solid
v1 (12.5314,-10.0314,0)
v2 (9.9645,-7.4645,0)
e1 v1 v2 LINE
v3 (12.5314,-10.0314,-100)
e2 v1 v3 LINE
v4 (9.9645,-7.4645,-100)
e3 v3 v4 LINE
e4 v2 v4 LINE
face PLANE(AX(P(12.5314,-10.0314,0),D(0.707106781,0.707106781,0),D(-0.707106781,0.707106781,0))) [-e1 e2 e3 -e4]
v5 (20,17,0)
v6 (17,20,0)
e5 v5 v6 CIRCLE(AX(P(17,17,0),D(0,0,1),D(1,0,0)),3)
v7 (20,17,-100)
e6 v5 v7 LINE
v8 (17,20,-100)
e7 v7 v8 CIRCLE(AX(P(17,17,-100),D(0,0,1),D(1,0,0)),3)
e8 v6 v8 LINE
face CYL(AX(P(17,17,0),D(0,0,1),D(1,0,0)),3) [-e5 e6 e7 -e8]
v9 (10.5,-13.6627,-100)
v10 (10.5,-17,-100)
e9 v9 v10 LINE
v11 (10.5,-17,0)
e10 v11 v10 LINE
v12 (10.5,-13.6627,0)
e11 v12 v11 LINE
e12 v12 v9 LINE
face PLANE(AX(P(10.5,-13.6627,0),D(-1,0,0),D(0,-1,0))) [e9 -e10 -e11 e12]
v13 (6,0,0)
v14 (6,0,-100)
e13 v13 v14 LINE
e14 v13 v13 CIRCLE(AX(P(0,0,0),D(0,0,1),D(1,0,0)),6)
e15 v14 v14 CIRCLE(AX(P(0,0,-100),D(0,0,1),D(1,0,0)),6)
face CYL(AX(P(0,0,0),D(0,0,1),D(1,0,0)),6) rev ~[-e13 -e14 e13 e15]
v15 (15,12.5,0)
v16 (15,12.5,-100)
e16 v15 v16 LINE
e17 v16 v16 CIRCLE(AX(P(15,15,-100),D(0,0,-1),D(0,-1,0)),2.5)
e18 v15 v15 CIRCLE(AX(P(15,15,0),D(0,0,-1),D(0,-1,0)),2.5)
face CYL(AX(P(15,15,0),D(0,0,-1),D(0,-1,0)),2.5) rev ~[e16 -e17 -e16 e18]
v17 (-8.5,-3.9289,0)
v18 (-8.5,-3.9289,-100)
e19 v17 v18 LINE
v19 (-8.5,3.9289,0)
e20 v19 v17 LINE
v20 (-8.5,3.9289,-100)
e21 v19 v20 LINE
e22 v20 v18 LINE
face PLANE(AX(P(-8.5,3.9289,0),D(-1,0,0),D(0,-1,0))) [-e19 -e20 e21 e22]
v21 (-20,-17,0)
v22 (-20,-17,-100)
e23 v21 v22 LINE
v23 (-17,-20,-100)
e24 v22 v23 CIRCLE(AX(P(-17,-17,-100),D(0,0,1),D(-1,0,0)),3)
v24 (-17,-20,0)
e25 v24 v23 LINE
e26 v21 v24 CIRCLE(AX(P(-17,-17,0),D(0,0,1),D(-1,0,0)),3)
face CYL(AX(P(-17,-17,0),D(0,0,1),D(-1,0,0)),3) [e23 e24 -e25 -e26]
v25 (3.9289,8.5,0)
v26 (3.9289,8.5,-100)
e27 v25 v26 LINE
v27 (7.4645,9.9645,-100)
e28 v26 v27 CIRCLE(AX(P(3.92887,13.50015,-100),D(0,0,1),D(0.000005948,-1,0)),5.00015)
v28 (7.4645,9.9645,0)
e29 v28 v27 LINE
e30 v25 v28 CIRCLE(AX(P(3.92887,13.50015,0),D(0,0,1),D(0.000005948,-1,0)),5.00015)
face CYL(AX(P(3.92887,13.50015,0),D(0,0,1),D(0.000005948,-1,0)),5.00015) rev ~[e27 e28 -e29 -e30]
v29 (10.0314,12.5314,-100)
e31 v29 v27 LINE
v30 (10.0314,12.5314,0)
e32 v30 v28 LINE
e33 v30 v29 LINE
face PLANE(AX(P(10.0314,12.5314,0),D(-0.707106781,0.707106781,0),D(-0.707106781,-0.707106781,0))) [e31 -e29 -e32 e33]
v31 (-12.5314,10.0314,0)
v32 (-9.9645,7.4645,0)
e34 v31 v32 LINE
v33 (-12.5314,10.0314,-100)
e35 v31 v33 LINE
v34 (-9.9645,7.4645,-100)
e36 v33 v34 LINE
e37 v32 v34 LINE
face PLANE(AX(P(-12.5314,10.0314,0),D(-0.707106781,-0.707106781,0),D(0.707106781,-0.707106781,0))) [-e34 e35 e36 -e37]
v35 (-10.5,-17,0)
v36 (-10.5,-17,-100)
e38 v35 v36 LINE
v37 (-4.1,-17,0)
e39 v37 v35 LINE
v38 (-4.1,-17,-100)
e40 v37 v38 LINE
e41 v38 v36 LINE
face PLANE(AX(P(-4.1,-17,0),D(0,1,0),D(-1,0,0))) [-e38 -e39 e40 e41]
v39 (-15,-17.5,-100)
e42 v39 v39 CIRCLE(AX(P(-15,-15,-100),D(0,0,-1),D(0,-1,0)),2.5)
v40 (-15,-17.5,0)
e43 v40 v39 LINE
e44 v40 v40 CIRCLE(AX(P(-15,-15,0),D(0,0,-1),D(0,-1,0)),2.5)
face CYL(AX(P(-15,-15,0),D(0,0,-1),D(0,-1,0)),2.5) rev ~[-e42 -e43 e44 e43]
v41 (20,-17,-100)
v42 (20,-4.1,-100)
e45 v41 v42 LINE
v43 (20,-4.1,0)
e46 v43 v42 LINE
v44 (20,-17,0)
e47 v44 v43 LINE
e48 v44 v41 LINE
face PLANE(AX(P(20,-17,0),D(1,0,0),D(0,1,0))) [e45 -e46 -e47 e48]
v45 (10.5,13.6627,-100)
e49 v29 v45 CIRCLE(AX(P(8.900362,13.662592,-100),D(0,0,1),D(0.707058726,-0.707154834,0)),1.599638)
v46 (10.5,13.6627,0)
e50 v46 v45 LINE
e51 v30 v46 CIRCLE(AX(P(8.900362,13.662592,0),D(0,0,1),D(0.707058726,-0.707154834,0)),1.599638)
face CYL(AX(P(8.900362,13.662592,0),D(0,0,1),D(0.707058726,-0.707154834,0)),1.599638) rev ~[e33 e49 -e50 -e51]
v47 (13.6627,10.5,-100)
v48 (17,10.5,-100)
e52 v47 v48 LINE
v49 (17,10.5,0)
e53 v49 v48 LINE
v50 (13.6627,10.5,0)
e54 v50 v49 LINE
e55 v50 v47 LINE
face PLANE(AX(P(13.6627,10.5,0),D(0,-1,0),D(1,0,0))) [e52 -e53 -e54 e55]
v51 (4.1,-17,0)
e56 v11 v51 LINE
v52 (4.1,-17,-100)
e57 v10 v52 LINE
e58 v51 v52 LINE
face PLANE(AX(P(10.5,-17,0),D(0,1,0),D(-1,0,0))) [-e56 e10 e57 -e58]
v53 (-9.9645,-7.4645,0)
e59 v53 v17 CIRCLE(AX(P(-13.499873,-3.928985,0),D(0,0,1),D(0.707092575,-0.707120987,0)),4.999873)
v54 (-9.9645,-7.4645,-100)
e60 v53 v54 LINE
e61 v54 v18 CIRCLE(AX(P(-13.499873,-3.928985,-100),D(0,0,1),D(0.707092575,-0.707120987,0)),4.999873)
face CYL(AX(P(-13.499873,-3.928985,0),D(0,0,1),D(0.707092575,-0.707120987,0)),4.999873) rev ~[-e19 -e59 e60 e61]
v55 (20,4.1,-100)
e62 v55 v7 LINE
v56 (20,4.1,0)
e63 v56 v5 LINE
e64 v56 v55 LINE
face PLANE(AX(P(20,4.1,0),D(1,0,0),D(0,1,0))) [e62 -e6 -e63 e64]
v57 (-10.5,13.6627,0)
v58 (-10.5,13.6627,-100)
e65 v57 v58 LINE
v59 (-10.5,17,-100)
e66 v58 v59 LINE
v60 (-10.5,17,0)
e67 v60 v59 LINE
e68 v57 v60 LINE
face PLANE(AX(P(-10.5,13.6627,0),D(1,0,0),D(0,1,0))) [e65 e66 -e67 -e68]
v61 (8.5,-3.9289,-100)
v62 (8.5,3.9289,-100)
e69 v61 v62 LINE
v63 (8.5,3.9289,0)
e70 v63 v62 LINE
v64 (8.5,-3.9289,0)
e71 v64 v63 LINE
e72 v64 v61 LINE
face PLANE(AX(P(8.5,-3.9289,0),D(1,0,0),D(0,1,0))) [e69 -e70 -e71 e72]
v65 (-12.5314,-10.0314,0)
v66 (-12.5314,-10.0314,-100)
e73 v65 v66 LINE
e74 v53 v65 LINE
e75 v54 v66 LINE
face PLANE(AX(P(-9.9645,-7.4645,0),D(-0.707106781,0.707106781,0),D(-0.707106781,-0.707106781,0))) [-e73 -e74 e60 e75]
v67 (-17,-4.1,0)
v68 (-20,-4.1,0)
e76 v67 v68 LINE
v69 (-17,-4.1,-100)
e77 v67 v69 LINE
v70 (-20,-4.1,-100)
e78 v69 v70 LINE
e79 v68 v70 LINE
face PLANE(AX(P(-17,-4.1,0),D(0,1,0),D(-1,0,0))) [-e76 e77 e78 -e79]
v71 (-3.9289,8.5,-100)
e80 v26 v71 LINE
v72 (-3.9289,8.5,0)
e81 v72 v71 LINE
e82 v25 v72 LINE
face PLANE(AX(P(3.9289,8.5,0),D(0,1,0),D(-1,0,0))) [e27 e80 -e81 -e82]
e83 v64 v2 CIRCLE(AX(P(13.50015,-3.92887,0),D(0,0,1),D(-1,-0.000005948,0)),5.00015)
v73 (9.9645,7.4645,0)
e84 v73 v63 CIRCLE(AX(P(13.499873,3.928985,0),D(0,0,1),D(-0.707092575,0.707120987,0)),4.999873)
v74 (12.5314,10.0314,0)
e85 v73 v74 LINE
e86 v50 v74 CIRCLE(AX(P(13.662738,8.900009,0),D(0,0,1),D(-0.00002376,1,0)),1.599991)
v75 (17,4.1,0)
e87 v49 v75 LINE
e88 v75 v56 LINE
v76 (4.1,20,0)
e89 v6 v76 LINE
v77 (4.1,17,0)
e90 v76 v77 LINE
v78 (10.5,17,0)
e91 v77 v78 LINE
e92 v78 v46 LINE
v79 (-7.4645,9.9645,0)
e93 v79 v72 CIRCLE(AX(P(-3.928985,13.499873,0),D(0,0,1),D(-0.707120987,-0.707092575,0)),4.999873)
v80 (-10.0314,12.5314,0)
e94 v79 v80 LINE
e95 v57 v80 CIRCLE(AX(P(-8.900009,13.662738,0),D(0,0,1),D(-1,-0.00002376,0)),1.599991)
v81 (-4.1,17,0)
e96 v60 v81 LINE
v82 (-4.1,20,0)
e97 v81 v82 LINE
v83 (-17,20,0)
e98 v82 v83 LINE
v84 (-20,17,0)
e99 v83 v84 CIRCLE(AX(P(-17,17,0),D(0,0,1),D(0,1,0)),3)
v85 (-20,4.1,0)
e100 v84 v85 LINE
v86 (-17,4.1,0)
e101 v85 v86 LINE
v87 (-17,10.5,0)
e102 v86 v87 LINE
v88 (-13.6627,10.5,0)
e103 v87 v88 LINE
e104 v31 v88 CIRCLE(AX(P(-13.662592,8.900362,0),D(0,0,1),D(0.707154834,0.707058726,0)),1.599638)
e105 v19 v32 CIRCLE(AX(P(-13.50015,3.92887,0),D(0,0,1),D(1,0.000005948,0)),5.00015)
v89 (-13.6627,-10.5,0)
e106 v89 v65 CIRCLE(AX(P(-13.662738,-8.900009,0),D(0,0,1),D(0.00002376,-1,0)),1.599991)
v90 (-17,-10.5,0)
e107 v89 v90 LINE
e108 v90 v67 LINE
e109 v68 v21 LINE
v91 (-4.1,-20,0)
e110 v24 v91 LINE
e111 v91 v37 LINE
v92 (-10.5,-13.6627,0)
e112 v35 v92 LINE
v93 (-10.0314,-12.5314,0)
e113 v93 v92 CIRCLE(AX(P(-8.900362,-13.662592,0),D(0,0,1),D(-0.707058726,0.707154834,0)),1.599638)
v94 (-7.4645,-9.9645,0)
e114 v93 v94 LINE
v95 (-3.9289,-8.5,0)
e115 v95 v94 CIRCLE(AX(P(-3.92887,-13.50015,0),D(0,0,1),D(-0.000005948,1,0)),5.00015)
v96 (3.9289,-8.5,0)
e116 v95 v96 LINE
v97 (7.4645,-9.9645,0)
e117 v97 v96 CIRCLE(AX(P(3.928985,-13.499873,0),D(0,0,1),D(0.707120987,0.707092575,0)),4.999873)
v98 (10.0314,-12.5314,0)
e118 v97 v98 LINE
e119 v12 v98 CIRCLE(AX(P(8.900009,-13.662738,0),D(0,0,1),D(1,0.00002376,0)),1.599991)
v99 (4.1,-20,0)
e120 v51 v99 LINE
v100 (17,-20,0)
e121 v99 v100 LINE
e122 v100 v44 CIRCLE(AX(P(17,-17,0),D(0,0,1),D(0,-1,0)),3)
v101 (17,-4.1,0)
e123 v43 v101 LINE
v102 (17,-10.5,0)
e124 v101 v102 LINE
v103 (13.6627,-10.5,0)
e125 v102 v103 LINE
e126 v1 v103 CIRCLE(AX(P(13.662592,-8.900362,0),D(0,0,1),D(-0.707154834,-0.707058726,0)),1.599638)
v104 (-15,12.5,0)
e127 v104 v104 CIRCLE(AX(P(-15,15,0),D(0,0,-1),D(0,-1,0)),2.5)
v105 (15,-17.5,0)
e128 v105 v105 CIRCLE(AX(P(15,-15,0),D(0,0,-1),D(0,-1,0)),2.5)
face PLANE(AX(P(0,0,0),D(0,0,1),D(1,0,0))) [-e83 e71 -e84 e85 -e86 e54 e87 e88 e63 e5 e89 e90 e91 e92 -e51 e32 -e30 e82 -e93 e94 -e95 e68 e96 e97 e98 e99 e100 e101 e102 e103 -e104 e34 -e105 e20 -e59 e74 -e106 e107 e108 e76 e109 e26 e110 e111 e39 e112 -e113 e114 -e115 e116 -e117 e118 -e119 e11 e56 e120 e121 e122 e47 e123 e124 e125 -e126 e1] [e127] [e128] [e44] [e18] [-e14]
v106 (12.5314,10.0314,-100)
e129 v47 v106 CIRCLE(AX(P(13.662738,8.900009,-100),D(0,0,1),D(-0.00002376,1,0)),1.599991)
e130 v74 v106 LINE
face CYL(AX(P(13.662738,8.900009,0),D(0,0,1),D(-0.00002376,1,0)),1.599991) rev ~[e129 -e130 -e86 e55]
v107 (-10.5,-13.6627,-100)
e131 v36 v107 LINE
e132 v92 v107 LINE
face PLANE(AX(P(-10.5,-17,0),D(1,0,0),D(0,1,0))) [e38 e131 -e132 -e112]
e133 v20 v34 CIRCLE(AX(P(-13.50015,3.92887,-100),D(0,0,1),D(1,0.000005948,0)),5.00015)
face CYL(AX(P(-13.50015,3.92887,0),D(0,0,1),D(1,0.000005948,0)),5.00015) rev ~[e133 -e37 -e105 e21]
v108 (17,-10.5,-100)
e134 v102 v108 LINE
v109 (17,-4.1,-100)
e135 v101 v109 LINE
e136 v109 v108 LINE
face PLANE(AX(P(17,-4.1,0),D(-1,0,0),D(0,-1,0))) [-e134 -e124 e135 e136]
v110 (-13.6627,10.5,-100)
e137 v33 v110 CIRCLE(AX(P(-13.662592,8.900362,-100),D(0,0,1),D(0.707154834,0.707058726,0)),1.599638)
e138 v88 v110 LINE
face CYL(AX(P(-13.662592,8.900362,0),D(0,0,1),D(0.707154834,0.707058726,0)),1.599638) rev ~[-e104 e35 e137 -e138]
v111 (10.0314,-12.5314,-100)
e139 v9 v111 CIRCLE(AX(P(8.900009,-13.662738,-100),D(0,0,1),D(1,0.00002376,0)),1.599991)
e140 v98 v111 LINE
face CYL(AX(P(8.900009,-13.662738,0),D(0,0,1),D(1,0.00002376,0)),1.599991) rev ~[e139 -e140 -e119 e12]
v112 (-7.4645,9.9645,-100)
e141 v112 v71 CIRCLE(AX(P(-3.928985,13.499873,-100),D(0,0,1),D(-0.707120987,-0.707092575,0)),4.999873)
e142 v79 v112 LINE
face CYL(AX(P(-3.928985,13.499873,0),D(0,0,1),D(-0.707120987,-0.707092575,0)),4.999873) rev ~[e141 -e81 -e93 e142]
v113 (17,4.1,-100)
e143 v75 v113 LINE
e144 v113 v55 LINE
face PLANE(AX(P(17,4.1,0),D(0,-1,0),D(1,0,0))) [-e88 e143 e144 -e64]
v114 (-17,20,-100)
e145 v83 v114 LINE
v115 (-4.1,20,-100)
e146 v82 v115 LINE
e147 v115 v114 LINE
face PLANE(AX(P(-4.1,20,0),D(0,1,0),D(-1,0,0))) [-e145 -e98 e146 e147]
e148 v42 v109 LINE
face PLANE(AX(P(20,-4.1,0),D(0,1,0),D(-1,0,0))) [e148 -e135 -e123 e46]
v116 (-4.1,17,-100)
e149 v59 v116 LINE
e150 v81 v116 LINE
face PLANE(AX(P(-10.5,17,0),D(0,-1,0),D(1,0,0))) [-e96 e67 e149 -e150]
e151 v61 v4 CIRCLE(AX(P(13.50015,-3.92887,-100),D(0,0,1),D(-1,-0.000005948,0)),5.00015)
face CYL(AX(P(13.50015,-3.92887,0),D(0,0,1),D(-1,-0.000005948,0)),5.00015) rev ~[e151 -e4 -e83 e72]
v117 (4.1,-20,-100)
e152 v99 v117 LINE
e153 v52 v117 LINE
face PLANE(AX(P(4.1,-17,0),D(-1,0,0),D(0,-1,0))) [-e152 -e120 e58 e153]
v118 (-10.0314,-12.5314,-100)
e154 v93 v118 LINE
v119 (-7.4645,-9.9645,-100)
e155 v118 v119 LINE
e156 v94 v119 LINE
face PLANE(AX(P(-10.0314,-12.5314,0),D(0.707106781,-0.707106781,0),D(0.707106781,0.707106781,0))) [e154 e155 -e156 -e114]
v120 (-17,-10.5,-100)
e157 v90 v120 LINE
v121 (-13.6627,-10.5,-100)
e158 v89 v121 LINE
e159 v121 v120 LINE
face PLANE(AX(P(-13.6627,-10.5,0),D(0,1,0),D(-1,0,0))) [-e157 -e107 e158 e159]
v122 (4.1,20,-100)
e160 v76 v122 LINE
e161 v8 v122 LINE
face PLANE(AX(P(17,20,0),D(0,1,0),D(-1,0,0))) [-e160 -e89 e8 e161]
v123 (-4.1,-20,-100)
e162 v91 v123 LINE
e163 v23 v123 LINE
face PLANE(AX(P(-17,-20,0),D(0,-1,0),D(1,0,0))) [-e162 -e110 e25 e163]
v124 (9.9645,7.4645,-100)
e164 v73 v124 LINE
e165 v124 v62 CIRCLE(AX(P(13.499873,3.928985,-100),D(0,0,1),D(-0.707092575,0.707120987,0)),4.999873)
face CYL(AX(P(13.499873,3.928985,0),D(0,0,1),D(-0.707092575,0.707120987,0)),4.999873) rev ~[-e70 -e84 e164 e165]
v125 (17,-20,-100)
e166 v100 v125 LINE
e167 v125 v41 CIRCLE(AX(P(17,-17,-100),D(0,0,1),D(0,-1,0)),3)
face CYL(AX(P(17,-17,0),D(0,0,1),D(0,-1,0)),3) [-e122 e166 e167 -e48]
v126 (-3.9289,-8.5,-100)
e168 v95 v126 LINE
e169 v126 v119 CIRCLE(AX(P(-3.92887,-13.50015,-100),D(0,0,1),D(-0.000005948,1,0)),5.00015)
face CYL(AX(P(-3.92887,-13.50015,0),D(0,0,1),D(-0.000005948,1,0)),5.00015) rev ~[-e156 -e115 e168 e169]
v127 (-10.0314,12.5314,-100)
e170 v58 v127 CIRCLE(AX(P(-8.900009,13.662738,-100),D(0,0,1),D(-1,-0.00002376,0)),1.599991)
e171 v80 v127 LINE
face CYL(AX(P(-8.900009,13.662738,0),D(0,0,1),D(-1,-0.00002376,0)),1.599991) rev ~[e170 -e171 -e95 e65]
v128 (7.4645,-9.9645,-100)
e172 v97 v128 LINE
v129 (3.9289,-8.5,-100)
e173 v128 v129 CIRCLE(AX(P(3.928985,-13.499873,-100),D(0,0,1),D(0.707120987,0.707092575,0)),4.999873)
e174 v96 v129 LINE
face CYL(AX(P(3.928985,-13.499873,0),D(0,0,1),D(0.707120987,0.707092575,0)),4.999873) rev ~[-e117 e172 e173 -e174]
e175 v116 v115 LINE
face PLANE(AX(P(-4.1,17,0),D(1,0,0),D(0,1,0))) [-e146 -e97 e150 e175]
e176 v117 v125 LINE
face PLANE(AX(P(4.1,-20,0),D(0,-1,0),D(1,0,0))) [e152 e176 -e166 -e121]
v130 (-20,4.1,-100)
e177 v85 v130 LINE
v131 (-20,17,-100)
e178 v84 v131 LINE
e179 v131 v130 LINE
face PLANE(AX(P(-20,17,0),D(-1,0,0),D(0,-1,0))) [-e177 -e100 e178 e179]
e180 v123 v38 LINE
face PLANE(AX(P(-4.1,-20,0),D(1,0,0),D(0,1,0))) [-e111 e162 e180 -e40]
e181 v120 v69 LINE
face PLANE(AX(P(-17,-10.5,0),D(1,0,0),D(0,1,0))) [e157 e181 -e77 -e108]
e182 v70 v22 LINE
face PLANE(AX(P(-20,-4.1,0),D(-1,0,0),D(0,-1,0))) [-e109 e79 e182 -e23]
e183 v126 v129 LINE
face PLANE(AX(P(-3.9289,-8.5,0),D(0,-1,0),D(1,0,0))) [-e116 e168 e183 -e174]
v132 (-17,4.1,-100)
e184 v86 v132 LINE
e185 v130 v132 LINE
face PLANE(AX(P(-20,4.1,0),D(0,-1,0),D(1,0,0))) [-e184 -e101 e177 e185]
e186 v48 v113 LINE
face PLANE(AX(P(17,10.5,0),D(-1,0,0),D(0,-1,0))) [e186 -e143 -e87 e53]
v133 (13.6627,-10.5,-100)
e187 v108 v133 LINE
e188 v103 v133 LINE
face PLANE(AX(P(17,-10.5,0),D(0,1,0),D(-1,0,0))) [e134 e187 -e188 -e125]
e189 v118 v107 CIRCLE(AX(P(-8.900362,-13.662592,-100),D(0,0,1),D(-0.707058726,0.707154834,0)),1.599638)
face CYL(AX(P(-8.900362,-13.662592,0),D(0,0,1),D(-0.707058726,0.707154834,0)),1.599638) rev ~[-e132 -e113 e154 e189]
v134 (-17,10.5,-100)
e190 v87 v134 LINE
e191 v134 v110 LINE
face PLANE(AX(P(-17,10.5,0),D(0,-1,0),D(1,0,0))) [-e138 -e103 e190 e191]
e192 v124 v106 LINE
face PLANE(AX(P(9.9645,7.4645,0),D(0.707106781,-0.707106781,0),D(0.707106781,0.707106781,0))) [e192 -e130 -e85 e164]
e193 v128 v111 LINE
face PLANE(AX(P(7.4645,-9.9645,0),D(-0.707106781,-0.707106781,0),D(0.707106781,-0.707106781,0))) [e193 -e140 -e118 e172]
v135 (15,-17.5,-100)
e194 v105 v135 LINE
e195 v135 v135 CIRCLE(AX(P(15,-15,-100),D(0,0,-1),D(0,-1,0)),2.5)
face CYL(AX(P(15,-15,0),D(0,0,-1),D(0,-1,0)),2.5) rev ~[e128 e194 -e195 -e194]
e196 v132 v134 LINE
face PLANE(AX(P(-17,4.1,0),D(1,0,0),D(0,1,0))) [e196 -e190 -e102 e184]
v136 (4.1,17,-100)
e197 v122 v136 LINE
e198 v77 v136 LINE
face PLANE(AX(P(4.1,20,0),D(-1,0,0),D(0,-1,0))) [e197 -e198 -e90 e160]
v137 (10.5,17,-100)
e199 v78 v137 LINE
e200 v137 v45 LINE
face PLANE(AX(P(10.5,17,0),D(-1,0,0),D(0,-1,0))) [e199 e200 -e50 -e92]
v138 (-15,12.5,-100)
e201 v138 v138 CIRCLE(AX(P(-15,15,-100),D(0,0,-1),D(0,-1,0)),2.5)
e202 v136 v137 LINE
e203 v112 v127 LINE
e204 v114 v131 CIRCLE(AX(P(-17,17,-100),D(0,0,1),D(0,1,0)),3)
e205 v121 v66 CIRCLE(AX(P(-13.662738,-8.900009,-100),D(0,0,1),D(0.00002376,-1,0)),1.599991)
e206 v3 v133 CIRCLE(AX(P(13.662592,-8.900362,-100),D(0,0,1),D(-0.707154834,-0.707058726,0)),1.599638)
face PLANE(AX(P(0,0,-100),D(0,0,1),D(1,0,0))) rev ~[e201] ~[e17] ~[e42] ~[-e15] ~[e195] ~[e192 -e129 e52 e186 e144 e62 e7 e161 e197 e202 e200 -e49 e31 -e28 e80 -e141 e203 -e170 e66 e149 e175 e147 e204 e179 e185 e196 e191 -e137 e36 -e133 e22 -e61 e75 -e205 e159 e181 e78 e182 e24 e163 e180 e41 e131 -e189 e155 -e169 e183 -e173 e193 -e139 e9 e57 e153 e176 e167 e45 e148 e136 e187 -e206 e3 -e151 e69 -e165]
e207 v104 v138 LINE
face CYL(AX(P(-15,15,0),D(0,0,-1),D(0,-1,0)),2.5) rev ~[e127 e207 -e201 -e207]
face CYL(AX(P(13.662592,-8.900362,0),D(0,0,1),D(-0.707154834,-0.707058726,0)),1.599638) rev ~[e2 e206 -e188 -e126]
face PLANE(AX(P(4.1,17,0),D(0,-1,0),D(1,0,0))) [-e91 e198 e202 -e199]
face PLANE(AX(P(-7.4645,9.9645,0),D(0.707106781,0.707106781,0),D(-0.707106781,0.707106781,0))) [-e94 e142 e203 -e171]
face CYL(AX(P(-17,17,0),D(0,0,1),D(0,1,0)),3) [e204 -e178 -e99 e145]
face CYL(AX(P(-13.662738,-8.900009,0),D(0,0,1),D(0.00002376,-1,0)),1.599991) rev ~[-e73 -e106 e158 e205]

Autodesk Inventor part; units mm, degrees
sketch "Skizze_1" plane through (0, 0, 0) normal (0, 0, 1) x (1, 0, 0)
  arc A0 (-20, -17) -> (-17, -20) centre (-17, -17) ccw
  line L0 (-17, -20) -> (-4.1, -20)
  line L1 (-4.1, -20) -> (-4.1, -17)
  line L2 (-4.1, -17) -> (-10.5, -17)
  line L3 (-10.5, -17) -> (-10.5, -13.6627)
  arc A1 (-10.0314, -12.5314) -> (-10.5, -13.6627) centre (-8.9002, -13.6627) ccw
  line L4 (-10.0314, -12.5314) -> (-7.4645, -9.9645)
  arc A2 (-3.9289, -8.5) -> (-7.4645, -9.9645) centre (-3.9289, -13.5) ccw
  line L5 (-3.9289, -8.5) -> (3.9289, -8.5)
  arc A3 (7.4645, -9.9645) -> (3.9289, -8.5) centre (3.9289, -13.5) ccw
  line L6 (7.4645, -9.9645) -> (10.0314, -12.5314)
  arc A4 (10.5, -13.6627) -> (10.0314, -12.5314) centre (8.9002, -13.6627) ccw
  line L7 (10.5, -13.6627) -> (10.5, -17)
  line L8 (10.5, -17) -> (4.1, -17)
  line L9 (4.1, -17) -> (4.1, -20)
  line L10 (4.1, -20) -> (17, -20)
  arc A5 (17, -20) -> (20, -17) centre (17, -17) ccw
  line L11 (20, -17) -> (20, -4.1)
  line L12 (20, -4.1) -> (17, -4.1)
  line L13 (17, -4.1) -> (17, -10.5)
  line L14 (17, -10.5) -> (13.6627, -10.5)
  arc A6 (12.5314, -10.0314) -> (13.6627, -10.5) centre (13.6627, -8.9002) ccw
  line L15 (12.5314, -10.0314) -> (9.9645, -7.4645)
  arc A7 (8.5, -3.9289) -> (9.9645, -7.4645) centre (13.5, -3.9289) ccw
  line L16 (8.5, -3.9289) -> (8.5, 3.9289)
  arc A8 (9.9645, 7.4645) -> (8.5, 3.9289) centre (13.5, 3.9289) ccw
  line L17 (9.9645, 7.4645) -> (12.5314, 10.0314)
  arc A9 (13.6627, 10.5) -> (12.5314, 10.0314) centre (13.6627, 8.9002) ccw
  line L18 (13.6627, 10.5) -> (17, 10.5)
  line L19 (17, 10.5) -> (17, 4.1)
  line L20 (17, 4.1) -> (20, 4.1)
  line L21 (20, 4.1) -> (20, 17)
  arc A10 (20, 17) -> (17, 20) centre (17, 17) ccw
  line L22 (17, 20) -> (4.1, 20)
  line L23 (4.1, 20) -> (4.1, 17)
  line L24 (4.1, 17) -> (10.5, 17)
  line L25 (10.5, 17) -> (10.5, 13.6627)
  arc A11 (10.0314, 12.5314) -> (10.5, 13.6627) centre (8.9002, 13.6627) ccw
  line L26 (10.0314, 12.5314) -> (7.4645, 9.9645)
  arc A12 (3.9289, 8.5) -> (7.4645, 9.9645) centre (3.9289, 13.5) ccw
  line L27 (3.9289, 8.5) -> (-3.9289, 8.5)
  arc A13 (-7.4645, 9.9645) -> (-3.9289, 8.5) centre (-3.9289, 13.5) ccw
  line L28 (-7.4645, 9.9645) -> (-10.0314, 12.5314)
  arc A14 (-10.5, 13.6627) -> (-10.0314, 12.5314) centre (-8.9002, 13.6627) ccw
  line L29 (-10.5, 13.6627) -> (-10.5, 17)
  line L30 (-10.5, 17) -> (-4.1, 17)
  line L31 (-4.1, 17) -> (-4.1, 20)
  line L32 (-4.1, 20) -> (-17, 20)
  arc A15 (-17, 20) -> (-20, 17) centre (-17, 17) ccw
  line L33 (-20, 17) -> (-20, 4.1)
  line L34 (-20, 4.1) -> (-17, 4.1)
  line L35 (-17, 4.1) -> (-17, 10.5)
  line L36 (-17, 10.5) -> (-13.6627, 10.5)
  arc A16 (-12.5314, 10.0314) -> (-13.6627, 10.5) centre (-13.6627, 8.9002) ccw
  line L37 (-12.5314, 10.0314) -> (-9.9645, 7.4645)
  arc A17 (-8.5, 3.9289) -> (-9.9645, 7.4645) centre (-13.5, 3.9289) ccw
  line L38 (-8.5, 3.9289) -> (-8.5, -3.9289)
  arc A18 (-9.9645, -7.4645) -> (-8.5, -3.9289) centre (-13.5, -3.9289) ccw
  line L39 (-9.9645, -7.4645) -> (-12.5314, -10.0314)
  arc A19 (-13.6627, -10.5) -> (-12.5314, -10.0314) centre (-13.6627, -8.9002) ccw
  line L40 (-13.6627, -10.5) -> (-17, -10.5)
  line L41 (-17, -10.5) -> (-17, -4.1)
  line L42 (-17, -4.1) -> (-20, -4.1)
  line L43 (-20, -4.1) -> (-20, -17)
  circle A20 centre (0, 0) radius 6
extrude "Extrusion1" add sketch "Skizze_1" against normal blind 100
sketch "Sketch2" plane through (0, 0, 0) normal (0, 0, 1) x (1, 0, 0)
  point P0 (-15, -15)
hole "Drilling 1" at (-15, -15, 0) direction (0, 0, -1) diameter 5 depth 6000
sketch "Sketch3" plane through (0, 0, 0) normal (0, 0, 1) x (1, 0, 0)
  point P0 (15, -15)
hole "Drilling 2" at (15, -15, 0) direction (0, 0, -1) diameter 5 depth 6000
sketch "Sketch4" plane through (0, 0, 0) normal (0, 0, 1) x (1, 0, 0)
  point P0 (15, 15)
hole "Drilling 3" at (15, 15, 0) direction (0, 0, -1) diameter 5 depth 6000
sketch "Sketch5" plane through (0, 0, 0) normal (0, 0, 1) x (1, 0, 0)
  point P0 (-15, 15)
hole "Drilling 4" at (-15, 15, 0) direction (0, 0, -1) diameter 5 depth 6000
ref_plane "side_4d_XY" through (-20, 0, -330) normal (-1, 0, 0) x (0, 1, 0)
ref_plane "side_4d_YZ" through (-20, 0, -330) normal (0, 1, 0) x (0, 0, -1)
ref_plane "side_4d_ZX" through (-20, 0, -330) normal (0, 0, -1) x (-1, 0, 0)
ref_plane "side_1a_XY" through (0, 20, -330) normal (0, 1, 0) x (1, 0, 0)
ref_plane "side_1a_YZ" through (0, 20, -330) normal (1, 0, 0) x (0, 0, -1)
ref_plane "side_1a_ZX" through (0, 20, -330) normal (0, 0, -1) x (0, 1, 0)
ref_plane "side_2b_XY" through (20, 0, -330) normal (1, 0, 0) x (0, -1, 0)
ref_plane "side_2b_YZ" through (20, 0, -330) normal (0, -1, 0) x (0, 0, -1)
ref_plane "side_2b_ZX" through (20, 0, -330) normal (0, 0, -1) x (1, 0, 0)
ref_plane "side_3c_XY" through (0, -20, -330) normal (0, -1, 0) x (-1, 0, 0)
ref_plane "side_3c_YZ" through (0, -20, -330) normal (-1, 0, 0) x (0, 0, -1)
ref_plane "side_3c_ZX" through (0, -20, -330) normal (0, 0, -1) x (0, -1, 0)
ref_plane "end_XY" through (0, 0, -660) normal (0, 0, -1) x (1, 0, 0)
ref_plane "end_YZ" through (0, 0, -660) normal (1, 0, 0) x (0, -1, 0)
ref_plane "end_ZX" through (0, 0, -660) normal (0, -1, 0) x (0, 0, -1)
ref_plane "start_XY" through (0, 0, 0) normal (0, 0, 1) x (1, 0, 0)
ref_plane "start_YZ" through (0, 0, 0) normal (1, 0, 0) x (0, 1, 0)
ref_plane "start_ZX" through (0, 0, 0) normal (0, 1, 0) x (0, 0, 1)
properties part number "MayTec 1.11.040040.43S_Profile 40x40, 4E, S_100_Detail_(0;0,0,0)"
